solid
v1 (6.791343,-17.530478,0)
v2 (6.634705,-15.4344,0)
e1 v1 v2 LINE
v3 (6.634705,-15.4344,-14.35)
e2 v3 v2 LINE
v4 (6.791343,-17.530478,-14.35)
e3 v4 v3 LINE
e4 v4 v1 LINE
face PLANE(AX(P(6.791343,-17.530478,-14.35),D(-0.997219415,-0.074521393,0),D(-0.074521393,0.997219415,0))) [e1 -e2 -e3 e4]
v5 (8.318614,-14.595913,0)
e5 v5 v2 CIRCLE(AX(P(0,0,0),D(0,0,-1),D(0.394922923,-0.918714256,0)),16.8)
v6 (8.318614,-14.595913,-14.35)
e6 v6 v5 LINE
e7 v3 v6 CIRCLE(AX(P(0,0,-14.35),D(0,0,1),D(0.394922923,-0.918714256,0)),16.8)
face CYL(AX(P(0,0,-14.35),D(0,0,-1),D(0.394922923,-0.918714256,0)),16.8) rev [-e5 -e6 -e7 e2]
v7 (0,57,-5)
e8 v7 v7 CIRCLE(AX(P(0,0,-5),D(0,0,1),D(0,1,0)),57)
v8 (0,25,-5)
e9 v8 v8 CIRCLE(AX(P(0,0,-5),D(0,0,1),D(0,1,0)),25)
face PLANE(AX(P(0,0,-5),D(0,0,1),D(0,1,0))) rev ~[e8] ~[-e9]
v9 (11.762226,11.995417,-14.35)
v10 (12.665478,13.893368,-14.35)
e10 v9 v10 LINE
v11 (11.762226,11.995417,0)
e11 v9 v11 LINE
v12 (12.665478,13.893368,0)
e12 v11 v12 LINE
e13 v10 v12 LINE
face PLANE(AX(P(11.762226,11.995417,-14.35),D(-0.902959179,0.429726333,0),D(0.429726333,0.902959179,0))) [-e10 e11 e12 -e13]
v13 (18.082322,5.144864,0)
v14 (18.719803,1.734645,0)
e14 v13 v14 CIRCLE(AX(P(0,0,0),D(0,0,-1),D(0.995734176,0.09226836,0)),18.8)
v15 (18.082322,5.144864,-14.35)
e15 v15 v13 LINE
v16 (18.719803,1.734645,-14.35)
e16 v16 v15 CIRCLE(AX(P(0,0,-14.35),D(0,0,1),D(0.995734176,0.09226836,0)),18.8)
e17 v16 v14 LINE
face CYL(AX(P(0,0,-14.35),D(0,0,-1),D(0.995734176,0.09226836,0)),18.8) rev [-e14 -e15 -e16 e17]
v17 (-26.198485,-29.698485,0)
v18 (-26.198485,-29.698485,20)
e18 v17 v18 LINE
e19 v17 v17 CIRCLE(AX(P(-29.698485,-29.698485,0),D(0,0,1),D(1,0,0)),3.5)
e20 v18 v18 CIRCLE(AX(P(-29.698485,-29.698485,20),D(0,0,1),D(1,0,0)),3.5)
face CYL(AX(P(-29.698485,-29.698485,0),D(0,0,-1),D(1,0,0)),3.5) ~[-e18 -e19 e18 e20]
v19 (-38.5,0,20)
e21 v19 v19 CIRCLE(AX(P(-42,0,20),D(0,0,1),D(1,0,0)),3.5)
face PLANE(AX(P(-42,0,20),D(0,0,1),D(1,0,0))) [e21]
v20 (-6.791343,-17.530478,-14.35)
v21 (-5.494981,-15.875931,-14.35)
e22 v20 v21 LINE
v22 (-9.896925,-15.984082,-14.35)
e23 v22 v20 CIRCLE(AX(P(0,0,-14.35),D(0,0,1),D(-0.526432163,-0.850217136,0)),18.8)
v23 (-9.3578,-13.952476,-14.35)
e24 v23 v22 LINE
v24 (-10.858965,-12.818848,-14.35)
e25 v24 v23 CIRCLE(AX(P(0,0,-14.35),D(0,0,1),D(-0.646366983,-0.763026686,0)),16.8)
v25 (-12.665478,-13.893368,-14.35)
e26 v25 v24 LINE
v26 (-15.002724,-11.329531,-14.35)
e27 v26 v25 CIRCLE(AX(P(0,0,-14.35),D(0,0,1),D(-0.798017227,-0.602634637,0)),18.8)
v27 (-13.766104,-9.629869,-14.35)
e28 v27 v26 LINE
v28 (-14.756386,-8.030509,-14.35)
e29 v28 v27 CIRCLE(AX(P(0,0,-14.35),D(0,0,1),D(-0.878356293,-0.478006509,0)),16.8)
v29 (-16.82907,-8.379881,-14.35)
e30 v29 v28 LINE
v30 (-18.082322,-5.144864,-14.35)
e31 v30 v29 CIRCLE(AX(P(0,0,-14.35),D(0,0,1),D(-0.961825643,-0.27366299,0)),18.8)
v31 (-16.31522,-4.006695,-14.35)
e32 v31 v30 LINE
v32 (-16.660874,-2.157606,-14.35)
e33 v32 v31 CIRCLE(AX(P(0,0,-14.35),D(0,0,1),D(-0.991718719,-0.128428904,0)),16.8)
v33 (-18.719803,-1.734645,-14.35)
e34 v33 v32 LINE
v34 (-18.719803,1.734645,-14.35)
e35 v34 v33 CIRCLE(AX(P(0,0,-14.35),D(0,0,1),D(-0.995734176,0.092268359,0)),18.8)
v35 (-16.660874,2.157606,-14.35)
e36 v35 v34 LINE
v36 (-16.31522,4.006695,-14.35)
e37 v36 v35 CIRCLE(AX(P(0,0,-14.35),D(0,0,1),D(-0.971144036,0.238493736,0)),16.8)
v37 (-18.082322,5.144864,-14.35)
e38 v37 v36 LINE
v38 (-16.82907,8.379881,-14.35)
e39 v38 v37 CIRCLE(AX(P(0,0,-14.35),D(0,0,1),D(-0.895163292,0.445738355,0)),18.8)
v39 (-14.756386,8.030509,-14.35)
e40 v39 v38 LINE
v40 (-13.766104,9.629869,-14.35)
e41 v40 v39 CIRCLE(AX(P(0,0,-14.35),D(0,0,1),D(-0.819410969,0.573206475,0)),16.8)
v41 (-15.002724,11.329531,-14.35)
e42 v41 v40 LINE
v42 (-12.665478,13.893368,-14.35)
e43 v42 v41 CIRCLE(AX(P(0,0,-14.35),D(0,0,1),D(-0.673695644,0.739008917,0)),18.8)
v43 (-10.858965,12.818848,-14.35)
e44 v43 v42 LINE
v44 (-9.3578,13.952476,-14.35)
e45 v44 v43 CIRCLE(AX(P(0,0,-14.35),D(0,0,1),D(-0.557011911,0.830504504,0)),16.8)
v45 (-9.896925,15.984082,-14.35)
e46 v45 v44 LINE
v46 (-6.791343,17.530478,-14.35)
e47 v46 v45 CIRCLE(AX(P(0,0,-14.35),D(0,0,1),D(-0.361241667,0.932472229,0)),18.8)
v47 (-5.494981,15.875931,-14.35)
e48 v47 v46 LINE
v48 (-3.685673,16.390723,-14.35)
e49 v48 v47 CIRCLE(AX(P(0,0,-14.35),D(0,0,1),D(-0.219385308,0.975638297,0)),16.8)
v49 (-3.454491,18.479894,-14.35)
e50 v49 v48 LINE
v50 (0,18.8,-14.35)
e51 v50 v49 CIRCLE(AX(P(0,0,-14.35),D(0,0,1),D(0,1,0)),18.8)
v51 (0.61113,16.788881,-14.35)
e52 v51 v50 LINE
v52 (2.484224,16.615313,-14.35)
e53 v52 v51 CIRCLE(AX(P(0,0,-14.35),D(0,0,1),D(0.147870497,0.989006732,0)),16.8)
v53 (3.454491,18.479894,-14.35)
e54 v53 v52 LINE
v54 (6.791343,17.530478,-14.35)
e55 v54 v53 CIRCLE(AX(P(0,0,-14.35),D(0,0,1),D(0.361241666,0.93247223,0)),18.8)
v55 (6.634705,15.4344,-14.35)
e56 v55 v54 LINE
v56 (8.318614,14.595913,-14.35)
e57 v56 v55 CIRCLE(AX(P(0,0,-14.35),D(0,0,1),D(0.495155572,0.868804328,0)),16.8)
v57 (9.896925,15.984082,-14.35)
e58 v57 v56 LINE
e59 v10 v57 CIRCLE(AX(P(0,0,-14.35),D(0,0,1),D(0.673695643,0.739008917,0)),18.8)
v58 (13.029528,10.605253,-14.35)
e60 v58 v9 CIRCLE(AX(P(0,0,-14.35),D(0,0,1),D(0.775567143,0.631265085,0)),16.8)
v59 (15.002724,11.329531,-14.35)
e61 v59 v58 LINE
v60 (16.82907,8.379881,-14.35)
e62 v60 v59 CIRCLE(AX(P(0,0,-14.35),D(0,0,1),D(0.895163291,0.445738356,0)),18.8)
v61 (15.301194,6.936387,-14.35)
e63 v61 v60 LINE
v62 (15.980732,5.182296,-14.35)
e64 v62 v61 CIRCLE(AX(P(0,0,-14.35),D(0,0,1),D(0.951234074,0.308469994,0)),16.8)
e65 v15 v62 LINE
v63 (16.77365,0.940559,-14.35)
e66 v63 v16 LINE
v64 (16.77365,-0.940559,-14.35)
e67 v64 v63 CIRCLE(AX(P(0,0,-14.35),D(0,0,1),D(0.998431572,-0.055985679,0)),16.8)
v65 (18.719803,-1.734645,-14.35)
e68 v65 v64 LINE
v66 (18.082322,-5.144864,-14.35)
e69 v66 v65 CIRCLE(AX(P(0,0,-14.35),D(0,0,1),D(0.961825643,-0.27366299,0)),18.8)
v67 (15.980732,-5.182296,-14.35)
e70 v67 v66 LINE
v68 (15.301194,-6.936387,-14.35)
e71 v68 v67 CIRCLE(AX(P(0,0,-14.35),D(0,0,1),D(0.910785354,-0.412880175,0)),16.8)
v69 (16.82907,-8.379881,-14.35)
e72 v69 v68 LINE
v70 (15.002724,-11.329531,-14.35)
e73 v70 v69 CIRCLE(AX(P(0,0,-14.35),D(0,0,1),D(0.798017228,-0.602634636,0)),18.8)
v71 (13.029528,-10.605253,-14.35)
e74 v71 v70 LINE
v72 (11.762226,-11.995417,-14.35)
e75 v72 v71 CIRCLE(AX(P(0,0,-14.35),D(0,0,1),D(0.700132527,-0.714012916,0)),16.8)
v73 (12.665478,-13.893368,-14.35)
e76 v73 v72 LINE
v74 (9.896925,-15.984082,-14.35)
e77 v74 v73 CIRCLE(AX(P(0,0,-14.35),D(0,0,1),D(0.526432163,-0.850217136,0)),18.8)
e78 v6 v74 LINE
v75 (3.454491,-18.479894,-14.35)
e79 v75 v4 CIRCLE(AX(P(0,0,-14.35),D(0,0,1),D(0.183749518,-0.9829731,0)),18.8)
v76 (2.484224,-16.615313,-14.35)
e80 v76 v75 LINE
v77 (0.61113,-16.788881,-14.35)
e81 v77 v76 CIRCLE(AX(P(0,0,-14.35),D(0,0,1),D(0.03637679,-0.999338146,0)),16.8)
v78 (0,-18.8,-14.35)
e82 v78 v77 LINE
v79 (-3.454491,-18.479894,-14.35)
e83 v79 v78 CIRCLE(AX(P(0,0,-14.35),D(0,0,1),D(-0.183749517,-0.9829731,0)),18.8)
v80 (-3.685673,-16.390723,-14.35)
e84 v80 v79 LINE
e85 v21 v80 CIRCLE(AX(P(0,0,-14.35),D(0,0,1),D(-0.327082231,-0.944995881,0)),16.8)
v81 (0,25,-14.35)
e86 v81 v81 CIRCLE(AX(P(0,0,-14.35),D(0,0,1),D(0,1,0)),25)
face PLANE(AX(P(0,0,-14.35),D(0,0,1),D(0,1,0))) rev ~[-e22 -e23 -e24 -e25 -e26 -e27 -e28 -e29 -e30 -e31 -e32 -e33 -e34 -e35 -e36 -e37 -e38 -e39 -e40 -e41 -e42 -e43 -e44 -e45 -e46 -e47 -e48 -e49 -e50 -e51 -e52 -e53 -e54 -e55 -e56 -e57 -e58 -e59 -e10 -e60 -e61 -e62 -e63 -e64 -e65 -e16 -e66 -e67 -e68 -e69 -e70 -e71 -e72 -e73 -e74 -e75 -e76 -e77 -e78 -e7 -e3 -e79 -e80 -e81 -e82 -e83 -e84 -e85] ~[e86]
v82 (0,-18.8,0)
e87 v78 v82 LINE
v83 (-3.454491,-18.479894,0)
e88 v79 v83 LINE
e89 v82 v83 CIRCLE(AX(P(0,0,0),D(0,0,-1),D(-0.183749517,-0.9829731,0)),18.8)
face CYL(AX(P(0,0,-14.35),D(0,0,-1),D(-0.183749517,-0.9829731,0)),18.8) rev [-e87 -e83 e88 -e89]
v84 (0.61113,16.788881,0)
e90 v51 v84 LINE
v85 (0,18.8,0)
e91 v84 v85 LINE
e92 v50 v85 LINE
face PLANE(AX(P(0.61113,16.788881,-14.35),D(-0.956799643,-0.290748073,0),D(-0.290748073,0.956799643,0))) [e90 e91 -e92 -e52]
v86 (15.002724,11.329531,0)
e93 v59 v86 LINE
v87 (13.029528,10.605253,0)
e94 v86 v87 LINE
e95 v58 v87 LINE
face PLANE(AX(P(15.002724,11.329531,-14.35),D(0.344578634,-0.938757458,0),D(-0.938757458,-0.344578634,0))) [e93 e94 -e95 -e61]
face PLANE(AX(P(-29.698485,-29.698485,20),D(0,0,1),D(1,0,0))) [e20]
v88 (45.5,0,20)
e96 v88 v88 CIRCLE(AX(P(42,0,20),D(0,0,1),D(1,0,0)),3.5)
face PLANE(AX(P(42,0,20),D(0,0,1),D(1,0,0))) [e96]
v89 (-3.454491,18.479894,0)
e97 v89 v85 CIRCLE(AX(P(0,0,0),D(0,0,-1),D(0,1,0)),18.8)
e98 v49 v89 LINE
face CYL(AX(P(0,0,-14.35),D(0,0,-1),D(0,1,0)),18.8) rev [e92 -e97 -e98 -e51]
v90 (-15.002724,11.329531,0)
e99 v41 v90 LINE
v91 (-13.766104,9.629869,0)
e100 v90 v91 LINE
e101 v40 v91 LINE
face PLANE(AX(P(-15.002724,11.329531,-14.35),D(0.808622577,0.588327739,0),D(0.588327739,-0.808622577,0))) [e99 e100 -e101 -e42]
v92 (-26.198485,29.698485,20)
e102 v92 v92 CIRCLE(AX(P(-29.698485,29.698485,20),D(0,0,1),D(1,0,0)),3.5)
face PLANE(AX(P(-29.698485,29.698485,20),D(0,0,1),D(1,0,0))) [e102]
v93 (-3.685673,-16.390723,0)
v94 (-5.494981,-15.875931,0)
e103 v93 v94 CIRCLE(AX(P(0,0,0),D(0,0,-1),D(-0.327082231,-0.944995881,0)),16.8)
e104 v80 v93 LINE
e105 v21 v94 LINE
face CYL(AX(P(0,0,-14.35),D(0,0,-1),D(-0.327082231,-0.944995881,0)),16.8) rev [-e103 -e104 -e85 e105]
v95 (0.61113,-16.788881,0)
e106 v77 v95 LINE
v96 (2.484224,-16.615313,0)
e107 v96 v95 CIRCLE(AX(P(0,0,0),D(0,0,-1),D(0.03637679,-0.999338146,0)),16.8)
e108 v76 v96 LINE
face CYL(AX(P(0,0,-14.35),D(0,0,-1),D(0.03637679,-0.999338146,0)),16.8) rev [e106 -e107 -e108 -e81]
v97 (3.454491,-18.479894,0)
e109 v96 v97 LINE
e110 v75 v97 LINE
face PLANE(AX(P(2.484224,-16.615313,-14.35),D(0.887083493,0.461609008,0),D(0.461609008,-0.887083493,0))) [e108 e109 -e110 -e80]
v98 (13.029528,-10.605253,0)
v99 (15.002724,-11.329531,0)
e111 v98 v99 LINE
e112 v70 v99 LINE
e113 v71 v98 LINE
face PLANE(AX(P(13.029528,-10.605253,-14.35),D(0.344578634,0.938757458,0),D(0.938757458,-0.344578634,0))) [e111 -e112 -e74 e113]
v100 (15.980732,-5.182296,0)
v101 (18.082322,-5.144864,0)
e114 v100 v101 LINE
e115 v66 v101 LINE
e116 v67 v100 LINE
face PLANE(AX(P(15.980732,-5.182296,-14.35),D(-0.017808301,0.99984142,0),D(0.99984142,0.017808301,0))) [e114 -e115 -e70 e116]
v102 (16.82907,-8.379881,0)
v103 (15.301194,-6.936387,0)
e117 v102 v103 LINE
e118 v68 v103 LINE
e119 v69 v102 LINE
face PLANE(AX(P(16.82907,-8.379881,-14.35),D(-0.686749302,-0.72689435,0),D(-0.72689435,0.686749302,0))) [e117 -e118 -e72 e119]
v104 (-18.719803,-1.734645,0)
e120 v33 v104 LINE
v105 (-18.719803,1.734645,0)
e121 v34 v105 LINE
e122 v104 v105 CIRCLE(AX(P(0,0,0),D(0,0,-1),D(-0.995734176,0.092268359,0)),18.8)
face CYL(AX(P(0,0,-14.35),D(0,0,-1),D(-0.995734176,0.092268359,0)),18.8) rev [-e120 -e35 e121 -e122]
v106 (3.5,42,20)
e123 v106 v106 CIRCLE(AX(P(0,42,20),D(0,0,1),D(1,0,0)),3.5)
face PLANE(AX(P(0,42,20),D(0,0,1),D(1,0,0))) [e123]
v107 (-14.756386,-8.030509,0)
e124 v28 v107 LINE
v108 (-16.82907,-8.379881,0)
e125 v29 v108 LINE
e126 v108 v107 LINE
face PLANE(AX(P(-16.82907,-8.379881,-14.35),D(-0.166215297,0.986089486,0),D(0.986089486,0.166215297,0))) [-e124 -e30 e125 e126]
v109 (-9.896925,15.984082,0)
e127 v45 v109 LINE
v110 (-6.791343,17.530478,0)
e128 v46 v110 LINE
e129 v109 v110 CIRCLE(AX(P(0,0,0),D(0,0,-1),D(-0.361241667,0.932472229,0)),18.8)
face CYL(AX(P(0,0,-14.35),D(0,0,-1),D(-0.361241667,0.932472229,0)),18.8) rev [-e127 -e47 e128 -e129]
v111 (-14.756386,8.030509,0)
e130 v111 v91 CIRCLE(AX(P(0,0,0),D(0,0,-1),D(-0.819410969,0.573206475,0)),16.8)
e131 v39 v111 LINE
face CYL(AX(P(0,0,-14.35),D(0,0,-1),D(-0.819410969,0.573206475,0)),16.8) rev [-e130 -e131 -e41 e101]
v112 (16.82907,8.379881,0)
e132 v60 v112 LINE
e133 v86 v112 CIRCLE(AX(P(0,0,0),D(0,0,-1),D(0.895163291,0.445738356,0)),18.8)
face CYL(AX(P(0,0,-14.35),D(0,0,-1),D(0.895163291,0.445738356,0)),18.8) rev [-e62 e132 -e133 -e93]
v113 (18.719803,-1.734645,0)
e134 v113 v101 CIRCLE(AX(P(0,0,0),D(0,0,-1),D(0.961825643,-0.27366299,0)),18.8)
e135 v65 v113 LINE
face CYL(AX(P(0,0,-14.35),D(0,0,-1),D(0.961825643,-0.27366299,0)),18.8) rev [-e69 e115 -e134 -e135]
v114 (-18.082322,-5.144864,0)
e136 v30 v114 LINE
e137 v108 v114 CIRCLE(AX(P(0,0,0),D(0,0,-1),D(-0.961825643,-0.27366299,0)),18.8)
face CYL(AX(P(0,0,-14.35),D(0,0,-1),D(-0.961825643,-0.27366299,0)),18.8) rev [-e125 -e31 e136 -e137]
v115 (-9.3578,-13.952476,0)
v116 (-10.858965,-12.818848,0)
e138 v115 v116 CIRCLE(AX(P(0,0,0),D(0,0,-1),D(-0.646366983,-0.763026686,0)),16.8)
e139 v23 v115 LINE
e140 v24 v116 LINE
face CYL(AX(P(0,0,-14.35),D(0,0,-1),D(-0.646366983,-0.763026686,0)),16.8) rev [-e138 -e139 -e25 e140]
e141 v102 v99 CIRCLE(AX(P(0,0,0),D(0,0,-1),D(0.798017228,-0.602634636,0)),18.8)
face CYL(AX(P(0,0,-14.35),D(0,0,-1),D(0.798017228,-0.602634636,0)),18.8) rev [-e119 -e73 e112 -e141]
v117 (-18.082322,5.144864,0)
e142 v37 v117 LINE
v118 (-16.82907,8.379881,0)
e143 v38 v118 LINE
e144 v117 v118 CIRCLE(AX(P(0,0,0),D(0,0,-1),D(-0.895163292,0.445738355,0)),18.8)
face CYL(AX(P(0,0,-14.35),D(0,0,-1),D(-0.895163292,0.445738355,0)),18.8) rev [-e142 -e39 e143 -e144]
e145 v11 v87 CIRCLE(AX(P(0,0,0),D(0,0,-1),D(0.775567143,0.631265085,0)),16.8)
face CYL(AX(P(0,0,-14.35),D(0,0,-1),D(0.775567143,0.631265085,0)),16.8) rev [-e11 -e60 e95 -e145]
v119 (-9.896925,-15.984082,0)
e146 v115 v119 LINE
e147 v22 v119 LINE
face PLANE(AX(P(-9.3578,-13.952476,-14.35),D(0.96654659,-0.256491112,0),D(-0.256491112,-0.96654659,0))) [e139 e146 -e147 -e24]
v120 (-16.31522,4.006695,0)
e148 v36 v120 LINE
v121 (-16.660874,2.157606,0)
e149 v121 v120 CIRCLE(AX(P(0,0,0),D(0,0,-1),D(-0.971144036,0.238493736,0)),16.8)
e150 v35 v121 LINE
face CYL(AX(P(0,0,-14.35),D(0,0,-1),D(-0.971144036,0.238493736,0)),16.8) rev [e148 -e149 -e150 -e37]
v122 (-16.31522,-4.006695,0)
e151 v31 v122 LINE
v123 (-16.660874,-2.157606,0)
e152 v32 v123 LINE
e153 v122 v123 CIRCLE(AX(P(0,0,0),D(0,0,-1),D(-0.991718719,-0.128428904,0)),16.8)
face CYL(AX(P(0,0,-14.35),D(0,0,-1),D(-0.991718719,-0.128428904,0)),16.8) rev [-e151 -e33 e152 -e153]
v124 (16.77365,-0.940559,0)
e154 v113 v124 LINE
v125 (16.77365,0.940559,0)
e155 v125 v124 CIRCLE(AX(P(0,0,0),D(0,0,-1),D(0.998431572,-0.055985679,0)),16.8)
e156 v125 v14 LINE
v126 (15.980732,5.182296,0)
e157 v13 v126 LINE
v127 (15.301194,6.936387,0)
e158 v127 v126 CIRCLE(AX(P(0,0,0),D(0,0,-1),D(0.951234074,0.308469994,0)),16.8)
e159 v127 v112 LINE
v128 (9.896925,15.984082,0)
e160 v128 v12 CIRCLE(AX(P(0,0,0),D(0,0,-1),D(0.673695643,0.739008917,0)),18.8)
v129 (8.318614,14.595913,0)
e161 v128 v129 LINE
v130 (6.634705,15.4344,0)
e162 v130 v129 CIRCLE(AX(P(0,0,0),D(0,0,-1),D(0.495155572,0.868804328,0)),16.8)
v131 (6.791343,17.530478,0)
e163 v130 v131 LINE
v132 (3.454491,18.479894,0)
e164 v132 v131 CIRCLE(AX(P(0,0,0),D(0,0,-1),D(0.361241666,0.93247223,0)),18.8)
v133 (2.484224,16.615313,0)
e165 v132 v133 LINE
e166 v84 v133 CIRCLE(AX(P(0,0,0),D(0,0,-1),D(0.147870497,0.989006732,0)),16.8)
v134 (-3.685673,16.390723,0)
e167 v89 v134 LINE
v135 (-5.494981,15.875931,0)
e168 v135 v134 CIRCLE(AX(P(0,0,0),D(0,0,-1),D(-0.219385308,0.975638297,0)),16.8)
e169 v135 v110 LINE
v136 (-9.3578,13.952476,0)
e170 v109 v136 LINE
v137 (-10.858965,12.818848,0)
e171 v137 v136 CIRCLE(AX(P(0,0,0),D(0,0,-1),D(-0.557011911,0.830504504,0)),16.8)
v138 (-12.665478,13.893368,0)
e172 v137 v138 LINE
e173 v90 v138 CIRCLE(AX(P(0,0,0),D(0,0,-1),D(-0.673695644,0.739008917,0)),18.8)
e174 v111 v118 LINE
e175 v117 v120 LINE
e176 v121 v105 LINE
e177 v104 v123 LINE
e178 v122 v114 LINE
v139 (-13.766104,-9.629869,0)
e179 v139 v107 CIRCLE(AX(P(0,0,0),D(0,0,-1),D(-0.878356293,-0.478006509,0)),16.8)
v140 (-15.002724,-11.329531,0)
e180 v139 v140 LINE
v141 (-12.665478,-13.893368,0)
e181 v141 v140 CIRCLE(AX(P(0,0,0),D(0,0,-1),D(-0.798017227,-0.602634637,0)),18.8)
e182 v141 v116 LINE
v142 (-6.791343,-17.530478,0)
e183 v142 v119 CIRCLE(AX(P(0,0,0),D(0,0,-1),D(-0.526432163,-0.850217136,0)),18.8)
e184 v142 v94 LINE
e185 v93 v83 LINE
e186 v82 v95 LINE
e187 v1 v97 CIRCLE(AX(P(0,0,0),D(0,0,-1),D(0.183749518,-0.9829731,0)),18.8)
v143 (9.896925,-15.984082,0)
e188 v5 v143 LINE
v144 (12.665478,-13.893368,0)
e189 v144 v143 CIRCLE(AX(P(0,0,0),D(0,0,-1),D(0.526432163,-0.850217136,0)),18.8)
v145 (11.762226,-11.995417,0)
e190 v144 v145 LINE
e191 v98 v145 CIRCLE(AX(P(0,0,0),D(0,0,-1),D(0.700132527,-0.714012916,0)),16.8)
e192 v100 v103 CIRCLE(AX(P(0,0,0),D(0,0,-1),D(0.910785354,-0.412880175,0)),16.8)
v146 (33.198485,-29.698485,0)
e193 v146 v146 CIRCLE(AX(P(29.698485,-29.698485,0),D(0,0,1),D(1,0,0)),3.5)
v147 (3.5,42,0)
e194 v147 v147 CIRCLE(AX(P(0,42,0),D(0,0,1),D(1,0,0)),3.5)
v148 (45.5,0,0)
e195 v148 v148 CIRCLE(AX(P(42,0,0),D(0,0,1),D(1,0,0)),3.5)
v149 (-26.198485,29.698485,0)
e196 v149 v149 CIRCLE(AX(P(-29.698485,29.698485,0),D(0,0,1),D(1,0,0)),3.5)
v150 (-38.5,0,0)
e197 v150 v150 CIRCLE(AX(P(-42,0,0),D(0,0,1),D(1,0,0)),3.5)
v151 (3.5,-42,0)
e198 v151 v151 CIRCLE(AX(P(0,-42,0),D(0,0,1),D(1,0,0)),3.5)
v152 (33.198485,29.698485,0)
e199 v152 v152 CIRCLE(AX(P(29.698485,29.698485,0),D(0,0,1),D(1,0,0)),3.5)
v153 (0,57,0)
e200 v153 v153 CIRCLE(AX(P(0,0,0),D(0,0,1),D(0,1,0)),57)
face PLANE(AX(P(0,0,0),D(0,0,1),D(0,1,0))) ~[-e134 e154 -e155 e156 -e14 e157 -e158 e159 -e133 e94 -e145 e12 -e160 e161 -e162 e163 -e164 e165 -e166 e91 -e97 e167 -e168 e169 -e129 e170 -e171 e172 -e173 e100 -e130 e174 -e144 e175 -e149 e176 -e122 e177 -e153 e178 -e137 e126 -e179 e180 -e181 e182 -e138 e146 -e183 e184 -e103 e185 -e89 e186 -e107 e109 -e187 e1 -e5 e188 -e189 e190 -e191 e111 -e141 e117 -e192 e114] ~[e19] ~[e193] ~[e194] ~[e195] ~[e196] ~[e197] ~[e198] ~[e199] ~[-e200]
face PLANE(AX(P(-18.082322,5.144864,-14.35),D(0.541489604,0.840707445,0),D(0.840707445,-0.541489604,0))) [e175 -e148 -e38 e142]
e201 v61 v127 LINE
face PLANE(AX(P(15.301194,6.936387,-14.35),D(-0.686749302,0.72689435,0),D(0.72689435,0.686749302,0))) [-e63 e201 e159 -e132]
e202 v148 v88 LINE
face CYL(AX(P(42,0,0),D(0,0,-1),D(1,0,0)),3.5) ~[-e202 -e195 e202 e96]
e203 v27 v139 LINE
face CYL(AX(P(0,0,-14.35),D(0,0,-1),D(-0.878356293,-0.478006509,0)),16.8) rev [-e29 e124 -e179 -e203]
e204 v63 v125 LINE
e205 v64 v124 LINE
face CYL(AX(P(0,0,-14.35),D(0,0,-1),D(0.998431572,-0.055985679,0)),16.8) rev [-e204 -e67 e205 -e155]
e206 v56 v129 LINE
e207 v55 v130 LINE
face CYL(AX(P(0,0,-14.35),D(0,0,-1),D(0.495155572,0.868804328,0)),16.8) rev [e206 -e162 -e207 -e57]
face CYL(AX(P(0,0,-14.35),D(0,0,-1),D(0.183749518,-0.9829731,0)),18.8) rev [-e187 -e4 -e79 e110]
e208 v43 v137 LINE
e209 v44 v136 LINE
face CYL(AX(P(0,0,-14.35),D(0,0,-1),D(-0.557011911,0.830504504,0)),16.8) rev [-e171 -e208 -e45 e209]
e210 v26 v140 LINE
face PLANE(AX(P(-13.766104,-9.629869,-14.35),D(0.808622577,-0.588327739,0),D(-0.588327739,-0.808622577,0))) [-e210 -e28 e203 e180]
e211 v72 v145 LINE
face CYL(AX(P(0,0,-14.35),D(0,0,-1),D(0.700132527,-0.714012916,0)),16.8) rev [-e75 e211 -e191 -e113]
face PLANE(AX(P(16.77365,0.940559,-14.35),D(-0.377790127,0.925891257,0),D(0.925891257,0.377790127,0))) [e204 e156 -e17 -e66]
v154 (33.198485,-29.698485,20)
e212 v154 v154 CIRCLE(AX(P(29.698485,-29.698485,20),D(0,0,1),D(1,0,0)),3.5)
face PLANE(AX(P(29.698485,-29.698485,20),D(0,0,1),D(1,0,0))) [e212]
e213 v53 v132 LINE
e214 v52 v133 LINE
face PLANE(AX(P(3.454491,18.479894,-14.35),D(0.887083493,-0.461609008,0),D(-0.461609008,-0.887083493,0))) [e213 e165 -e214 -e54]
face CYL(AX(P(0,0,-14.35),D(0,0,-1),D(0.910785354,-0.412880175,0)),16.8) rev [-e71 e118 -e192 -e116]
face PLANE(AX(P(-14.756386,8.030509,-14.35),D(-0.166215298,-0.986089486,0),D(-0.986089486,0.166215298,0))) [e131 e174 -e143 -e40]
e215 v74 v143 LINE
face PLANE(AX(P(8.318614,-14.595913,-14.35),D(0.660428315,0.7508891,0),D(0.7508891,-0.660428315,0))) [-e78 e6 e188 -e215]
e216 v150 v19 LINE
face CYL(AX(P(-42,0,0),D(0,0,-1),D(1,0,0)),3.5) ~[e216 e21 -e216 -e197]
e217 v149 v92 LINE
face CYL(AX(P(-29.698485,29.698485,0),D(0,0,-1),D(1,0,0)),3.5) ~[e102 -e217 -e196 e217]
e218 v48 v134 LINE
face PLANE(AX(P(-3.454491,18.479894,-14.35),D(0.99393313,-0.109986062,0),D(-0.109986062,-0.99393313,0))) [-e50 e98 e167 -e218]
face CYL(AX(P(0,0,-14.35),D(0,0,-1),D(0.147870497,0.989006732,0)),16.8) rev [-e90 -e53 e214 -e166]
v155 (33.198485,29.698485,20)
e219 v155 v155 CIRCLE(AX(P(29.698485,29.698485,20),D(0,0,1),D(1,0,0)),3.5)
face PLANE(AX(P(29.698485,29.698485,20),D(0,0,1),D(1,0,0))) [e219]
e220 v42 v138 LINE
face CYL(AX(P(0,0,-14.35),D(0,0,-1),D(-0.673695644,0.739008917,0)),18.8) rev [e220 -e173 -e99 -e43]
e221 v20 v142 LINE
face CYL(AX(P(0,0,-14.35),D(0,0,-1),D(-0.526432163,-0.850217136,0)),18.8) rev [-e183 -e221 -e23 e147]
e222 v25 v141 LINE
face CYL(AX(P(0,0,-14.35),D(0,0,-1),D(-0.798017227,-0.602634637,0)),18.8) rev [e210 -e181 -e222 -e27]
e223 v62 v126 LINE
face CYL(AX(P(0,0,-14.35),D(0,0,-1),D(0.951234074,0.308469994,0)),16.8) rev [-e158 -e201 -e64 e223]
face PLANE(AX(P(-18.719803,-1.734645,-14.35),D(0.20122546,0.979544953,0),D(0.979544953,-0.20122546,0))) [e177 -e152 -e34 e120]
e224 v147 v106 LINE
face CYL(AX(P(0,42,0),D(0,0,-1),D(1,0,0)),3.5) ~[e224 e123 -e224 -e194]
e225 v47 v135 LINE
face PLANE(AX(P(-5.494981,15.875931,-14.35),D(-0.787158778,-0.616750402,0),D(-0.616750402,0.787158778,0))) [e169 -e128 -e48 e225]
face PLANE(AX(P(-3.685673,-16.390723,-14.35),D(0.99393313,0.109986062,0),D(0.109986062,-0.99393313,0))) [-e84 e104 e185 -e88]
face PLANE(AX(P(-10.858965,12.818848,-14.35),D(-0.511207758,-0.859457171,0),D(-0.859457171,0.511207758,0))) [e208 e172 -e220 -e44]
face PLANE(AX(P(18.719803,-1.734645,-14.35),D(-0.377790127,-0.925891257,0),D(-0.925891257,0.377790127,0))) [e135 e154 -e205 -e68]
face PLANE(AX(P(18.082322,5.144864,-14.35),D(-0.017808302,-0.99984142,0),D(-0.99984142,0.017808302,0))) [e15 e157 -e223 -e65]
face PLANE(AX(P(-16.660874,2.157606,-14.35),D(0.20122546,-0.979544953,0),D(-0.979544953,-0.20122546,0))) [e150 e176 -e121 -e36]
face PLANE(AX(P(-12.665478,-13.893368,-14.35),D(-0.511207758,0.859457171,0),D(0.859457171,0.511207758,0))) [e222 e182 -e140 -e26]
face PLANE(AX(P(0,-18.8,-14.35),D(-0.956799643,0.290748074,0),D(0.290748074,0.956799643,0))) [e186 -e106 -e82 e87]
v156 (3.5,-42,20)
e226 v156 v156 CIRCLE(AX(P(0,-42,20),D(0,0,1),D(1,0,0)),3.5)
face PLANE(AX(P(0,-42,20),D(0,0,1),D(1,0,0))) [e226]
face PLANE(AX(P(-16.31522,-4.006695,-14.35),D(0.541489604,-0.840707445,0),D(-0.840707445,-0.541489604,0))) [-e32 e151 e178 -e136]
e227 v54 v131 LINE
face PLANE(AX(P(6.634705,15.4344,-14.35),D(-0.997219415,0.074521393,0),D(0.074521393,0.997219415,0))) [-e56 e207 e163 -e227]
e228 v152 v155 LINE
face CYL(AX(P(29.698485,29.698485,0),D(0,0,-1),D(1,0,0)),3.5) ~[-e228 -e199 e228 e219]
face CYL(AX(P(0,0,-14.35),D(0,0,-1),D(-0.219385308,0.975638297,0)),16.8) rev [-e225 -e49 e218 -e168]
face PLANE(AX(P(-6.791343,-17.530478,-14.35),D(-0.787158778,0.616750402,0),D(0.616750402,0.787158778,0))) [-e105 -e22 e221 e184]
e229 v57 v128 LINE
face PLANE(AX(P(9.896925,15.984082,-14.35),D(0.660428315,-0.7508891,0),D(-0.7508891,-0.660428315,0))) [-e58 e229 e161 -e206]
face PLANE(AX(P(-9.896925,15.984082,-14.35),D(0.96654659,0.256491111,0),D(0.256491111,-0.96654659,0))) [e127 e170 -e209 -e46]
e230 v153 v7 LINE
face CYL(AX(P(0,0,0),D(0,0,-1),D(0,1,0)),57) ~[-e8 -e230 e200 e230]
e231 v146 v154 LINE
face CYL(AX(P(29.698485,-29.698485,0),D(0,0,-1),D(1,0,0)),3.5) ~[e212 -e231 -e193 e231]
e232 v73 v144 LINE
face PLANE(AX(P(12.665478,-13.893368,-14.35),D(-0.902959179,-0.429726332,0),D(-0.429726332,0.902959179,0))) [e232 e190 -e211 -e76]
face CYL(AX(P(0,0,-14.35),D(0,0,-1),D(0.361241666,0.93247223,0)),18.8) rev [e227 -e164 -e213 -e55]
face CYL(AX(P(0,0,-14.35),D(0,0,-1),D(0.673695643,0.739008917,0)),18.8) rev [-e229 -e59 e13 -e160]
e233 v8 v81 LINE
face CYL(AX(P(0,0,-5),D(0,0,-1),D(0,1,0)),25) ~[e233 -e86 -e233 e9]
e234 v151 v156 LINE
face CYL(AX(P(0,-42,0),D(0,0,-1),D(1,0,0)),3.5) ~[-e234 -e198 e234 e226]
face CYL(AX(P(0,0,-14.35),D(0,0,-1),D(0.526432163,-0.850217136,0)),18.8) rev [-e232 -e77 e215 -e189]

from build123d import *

# Parameters (mm, degrees)
CUT_EXTRUDE1_DEPTH  = 15.35
CIRPATTERN1_COUNT   = 17
SKETCH3_R           = 3.5
BOSS_EXTRUDE1_DEPTH = 20


with BuildPart() as part:
    # Sketch1 → Revolve1 (revolve)
    with BuildSketch(Plane(origin=(0, 0, 0), x_dir=(0, 0, -1), z_dir=(1, 0, 0))):
        Polygon((0, 0), (0, 57), (5, 57), (5, 25.000000038), (14.35, 25.000000038), (14.35, 0), align=None)
    revolve(axis=Axis((0, 0, -14.35), (0, 0, 1)))

    # Sketch2 → Cut-Extrude1 (cut, through all)
    with BuildSketch(Plane(origin=(0, 0, -14.35), x_dir=(-1, 0, 0), z_dir=(0, 0, -1))):
        with BuildLine():
            Line((0, 0), (0, 18.8))
            ThreePointArc((0, 18.8), (1.734645158, 18.719802514), (3.454490935, 18.479894274))
            Line((3.454490935, 18.479894274), (3.685673166, 16.390723392))
            ThreePointArc((3.685673166, 16.390723392), (4.597538233, 16.158670805), (5.494981484, 15.875930791))
            Line((5.494981484, 15.875930791), (6.791343324, 17.530477913))
            Line((6.791343324, 17.530477913), (0, 0))
        make_face()
    cut_extrude1 = extrude(amount=-CUT_EXTRUDE1_DEPTH, mode=Mode.SUBTRACT)

    # CirPattern1: Cut-Extrude1 ×17 about axis
    cirpattern1_axis = Axis((0, 0, 0), (0, 0, 1))
    for i in range(1, CIRPATTERN1_COUNT):
        add(cut_extrude1.rotate(cirpattern1_axis, i * 360 / CIRPATTERN1_COUNT), mode=Mode.SUBTRACT)

    # Sketch3 → Boss-Extrude1 (add)
    with BuildSketch(Plane.XY):
        with Locations((0, 42)):
            Circle(SKETCH3_R)
        with Locations((29.69848481, 29.69848481)):
            Circle(SKETCH3_R)
        with Locations((42, 0)):
            Circle(SKETCH3_R)
        with Locations((29.69848481, -29.69848481)):
            Circle(SKETCH3_R)
        with Locations((0, -42)):
            Circle(SKETCH3_R)
        with Locations((-29.69848481, -29.69848481)):
            Circle(SKETCH3_R)
        with Locations((-42, 0)):
            Circle(SKETCH3_R)
        with Locations((-29.69848481, 29.69848481)):
            Circle(SKETCH3_R)
    extrude(amount=BOSS_EXTRUDE1_DEPTH)


solid = part.part
